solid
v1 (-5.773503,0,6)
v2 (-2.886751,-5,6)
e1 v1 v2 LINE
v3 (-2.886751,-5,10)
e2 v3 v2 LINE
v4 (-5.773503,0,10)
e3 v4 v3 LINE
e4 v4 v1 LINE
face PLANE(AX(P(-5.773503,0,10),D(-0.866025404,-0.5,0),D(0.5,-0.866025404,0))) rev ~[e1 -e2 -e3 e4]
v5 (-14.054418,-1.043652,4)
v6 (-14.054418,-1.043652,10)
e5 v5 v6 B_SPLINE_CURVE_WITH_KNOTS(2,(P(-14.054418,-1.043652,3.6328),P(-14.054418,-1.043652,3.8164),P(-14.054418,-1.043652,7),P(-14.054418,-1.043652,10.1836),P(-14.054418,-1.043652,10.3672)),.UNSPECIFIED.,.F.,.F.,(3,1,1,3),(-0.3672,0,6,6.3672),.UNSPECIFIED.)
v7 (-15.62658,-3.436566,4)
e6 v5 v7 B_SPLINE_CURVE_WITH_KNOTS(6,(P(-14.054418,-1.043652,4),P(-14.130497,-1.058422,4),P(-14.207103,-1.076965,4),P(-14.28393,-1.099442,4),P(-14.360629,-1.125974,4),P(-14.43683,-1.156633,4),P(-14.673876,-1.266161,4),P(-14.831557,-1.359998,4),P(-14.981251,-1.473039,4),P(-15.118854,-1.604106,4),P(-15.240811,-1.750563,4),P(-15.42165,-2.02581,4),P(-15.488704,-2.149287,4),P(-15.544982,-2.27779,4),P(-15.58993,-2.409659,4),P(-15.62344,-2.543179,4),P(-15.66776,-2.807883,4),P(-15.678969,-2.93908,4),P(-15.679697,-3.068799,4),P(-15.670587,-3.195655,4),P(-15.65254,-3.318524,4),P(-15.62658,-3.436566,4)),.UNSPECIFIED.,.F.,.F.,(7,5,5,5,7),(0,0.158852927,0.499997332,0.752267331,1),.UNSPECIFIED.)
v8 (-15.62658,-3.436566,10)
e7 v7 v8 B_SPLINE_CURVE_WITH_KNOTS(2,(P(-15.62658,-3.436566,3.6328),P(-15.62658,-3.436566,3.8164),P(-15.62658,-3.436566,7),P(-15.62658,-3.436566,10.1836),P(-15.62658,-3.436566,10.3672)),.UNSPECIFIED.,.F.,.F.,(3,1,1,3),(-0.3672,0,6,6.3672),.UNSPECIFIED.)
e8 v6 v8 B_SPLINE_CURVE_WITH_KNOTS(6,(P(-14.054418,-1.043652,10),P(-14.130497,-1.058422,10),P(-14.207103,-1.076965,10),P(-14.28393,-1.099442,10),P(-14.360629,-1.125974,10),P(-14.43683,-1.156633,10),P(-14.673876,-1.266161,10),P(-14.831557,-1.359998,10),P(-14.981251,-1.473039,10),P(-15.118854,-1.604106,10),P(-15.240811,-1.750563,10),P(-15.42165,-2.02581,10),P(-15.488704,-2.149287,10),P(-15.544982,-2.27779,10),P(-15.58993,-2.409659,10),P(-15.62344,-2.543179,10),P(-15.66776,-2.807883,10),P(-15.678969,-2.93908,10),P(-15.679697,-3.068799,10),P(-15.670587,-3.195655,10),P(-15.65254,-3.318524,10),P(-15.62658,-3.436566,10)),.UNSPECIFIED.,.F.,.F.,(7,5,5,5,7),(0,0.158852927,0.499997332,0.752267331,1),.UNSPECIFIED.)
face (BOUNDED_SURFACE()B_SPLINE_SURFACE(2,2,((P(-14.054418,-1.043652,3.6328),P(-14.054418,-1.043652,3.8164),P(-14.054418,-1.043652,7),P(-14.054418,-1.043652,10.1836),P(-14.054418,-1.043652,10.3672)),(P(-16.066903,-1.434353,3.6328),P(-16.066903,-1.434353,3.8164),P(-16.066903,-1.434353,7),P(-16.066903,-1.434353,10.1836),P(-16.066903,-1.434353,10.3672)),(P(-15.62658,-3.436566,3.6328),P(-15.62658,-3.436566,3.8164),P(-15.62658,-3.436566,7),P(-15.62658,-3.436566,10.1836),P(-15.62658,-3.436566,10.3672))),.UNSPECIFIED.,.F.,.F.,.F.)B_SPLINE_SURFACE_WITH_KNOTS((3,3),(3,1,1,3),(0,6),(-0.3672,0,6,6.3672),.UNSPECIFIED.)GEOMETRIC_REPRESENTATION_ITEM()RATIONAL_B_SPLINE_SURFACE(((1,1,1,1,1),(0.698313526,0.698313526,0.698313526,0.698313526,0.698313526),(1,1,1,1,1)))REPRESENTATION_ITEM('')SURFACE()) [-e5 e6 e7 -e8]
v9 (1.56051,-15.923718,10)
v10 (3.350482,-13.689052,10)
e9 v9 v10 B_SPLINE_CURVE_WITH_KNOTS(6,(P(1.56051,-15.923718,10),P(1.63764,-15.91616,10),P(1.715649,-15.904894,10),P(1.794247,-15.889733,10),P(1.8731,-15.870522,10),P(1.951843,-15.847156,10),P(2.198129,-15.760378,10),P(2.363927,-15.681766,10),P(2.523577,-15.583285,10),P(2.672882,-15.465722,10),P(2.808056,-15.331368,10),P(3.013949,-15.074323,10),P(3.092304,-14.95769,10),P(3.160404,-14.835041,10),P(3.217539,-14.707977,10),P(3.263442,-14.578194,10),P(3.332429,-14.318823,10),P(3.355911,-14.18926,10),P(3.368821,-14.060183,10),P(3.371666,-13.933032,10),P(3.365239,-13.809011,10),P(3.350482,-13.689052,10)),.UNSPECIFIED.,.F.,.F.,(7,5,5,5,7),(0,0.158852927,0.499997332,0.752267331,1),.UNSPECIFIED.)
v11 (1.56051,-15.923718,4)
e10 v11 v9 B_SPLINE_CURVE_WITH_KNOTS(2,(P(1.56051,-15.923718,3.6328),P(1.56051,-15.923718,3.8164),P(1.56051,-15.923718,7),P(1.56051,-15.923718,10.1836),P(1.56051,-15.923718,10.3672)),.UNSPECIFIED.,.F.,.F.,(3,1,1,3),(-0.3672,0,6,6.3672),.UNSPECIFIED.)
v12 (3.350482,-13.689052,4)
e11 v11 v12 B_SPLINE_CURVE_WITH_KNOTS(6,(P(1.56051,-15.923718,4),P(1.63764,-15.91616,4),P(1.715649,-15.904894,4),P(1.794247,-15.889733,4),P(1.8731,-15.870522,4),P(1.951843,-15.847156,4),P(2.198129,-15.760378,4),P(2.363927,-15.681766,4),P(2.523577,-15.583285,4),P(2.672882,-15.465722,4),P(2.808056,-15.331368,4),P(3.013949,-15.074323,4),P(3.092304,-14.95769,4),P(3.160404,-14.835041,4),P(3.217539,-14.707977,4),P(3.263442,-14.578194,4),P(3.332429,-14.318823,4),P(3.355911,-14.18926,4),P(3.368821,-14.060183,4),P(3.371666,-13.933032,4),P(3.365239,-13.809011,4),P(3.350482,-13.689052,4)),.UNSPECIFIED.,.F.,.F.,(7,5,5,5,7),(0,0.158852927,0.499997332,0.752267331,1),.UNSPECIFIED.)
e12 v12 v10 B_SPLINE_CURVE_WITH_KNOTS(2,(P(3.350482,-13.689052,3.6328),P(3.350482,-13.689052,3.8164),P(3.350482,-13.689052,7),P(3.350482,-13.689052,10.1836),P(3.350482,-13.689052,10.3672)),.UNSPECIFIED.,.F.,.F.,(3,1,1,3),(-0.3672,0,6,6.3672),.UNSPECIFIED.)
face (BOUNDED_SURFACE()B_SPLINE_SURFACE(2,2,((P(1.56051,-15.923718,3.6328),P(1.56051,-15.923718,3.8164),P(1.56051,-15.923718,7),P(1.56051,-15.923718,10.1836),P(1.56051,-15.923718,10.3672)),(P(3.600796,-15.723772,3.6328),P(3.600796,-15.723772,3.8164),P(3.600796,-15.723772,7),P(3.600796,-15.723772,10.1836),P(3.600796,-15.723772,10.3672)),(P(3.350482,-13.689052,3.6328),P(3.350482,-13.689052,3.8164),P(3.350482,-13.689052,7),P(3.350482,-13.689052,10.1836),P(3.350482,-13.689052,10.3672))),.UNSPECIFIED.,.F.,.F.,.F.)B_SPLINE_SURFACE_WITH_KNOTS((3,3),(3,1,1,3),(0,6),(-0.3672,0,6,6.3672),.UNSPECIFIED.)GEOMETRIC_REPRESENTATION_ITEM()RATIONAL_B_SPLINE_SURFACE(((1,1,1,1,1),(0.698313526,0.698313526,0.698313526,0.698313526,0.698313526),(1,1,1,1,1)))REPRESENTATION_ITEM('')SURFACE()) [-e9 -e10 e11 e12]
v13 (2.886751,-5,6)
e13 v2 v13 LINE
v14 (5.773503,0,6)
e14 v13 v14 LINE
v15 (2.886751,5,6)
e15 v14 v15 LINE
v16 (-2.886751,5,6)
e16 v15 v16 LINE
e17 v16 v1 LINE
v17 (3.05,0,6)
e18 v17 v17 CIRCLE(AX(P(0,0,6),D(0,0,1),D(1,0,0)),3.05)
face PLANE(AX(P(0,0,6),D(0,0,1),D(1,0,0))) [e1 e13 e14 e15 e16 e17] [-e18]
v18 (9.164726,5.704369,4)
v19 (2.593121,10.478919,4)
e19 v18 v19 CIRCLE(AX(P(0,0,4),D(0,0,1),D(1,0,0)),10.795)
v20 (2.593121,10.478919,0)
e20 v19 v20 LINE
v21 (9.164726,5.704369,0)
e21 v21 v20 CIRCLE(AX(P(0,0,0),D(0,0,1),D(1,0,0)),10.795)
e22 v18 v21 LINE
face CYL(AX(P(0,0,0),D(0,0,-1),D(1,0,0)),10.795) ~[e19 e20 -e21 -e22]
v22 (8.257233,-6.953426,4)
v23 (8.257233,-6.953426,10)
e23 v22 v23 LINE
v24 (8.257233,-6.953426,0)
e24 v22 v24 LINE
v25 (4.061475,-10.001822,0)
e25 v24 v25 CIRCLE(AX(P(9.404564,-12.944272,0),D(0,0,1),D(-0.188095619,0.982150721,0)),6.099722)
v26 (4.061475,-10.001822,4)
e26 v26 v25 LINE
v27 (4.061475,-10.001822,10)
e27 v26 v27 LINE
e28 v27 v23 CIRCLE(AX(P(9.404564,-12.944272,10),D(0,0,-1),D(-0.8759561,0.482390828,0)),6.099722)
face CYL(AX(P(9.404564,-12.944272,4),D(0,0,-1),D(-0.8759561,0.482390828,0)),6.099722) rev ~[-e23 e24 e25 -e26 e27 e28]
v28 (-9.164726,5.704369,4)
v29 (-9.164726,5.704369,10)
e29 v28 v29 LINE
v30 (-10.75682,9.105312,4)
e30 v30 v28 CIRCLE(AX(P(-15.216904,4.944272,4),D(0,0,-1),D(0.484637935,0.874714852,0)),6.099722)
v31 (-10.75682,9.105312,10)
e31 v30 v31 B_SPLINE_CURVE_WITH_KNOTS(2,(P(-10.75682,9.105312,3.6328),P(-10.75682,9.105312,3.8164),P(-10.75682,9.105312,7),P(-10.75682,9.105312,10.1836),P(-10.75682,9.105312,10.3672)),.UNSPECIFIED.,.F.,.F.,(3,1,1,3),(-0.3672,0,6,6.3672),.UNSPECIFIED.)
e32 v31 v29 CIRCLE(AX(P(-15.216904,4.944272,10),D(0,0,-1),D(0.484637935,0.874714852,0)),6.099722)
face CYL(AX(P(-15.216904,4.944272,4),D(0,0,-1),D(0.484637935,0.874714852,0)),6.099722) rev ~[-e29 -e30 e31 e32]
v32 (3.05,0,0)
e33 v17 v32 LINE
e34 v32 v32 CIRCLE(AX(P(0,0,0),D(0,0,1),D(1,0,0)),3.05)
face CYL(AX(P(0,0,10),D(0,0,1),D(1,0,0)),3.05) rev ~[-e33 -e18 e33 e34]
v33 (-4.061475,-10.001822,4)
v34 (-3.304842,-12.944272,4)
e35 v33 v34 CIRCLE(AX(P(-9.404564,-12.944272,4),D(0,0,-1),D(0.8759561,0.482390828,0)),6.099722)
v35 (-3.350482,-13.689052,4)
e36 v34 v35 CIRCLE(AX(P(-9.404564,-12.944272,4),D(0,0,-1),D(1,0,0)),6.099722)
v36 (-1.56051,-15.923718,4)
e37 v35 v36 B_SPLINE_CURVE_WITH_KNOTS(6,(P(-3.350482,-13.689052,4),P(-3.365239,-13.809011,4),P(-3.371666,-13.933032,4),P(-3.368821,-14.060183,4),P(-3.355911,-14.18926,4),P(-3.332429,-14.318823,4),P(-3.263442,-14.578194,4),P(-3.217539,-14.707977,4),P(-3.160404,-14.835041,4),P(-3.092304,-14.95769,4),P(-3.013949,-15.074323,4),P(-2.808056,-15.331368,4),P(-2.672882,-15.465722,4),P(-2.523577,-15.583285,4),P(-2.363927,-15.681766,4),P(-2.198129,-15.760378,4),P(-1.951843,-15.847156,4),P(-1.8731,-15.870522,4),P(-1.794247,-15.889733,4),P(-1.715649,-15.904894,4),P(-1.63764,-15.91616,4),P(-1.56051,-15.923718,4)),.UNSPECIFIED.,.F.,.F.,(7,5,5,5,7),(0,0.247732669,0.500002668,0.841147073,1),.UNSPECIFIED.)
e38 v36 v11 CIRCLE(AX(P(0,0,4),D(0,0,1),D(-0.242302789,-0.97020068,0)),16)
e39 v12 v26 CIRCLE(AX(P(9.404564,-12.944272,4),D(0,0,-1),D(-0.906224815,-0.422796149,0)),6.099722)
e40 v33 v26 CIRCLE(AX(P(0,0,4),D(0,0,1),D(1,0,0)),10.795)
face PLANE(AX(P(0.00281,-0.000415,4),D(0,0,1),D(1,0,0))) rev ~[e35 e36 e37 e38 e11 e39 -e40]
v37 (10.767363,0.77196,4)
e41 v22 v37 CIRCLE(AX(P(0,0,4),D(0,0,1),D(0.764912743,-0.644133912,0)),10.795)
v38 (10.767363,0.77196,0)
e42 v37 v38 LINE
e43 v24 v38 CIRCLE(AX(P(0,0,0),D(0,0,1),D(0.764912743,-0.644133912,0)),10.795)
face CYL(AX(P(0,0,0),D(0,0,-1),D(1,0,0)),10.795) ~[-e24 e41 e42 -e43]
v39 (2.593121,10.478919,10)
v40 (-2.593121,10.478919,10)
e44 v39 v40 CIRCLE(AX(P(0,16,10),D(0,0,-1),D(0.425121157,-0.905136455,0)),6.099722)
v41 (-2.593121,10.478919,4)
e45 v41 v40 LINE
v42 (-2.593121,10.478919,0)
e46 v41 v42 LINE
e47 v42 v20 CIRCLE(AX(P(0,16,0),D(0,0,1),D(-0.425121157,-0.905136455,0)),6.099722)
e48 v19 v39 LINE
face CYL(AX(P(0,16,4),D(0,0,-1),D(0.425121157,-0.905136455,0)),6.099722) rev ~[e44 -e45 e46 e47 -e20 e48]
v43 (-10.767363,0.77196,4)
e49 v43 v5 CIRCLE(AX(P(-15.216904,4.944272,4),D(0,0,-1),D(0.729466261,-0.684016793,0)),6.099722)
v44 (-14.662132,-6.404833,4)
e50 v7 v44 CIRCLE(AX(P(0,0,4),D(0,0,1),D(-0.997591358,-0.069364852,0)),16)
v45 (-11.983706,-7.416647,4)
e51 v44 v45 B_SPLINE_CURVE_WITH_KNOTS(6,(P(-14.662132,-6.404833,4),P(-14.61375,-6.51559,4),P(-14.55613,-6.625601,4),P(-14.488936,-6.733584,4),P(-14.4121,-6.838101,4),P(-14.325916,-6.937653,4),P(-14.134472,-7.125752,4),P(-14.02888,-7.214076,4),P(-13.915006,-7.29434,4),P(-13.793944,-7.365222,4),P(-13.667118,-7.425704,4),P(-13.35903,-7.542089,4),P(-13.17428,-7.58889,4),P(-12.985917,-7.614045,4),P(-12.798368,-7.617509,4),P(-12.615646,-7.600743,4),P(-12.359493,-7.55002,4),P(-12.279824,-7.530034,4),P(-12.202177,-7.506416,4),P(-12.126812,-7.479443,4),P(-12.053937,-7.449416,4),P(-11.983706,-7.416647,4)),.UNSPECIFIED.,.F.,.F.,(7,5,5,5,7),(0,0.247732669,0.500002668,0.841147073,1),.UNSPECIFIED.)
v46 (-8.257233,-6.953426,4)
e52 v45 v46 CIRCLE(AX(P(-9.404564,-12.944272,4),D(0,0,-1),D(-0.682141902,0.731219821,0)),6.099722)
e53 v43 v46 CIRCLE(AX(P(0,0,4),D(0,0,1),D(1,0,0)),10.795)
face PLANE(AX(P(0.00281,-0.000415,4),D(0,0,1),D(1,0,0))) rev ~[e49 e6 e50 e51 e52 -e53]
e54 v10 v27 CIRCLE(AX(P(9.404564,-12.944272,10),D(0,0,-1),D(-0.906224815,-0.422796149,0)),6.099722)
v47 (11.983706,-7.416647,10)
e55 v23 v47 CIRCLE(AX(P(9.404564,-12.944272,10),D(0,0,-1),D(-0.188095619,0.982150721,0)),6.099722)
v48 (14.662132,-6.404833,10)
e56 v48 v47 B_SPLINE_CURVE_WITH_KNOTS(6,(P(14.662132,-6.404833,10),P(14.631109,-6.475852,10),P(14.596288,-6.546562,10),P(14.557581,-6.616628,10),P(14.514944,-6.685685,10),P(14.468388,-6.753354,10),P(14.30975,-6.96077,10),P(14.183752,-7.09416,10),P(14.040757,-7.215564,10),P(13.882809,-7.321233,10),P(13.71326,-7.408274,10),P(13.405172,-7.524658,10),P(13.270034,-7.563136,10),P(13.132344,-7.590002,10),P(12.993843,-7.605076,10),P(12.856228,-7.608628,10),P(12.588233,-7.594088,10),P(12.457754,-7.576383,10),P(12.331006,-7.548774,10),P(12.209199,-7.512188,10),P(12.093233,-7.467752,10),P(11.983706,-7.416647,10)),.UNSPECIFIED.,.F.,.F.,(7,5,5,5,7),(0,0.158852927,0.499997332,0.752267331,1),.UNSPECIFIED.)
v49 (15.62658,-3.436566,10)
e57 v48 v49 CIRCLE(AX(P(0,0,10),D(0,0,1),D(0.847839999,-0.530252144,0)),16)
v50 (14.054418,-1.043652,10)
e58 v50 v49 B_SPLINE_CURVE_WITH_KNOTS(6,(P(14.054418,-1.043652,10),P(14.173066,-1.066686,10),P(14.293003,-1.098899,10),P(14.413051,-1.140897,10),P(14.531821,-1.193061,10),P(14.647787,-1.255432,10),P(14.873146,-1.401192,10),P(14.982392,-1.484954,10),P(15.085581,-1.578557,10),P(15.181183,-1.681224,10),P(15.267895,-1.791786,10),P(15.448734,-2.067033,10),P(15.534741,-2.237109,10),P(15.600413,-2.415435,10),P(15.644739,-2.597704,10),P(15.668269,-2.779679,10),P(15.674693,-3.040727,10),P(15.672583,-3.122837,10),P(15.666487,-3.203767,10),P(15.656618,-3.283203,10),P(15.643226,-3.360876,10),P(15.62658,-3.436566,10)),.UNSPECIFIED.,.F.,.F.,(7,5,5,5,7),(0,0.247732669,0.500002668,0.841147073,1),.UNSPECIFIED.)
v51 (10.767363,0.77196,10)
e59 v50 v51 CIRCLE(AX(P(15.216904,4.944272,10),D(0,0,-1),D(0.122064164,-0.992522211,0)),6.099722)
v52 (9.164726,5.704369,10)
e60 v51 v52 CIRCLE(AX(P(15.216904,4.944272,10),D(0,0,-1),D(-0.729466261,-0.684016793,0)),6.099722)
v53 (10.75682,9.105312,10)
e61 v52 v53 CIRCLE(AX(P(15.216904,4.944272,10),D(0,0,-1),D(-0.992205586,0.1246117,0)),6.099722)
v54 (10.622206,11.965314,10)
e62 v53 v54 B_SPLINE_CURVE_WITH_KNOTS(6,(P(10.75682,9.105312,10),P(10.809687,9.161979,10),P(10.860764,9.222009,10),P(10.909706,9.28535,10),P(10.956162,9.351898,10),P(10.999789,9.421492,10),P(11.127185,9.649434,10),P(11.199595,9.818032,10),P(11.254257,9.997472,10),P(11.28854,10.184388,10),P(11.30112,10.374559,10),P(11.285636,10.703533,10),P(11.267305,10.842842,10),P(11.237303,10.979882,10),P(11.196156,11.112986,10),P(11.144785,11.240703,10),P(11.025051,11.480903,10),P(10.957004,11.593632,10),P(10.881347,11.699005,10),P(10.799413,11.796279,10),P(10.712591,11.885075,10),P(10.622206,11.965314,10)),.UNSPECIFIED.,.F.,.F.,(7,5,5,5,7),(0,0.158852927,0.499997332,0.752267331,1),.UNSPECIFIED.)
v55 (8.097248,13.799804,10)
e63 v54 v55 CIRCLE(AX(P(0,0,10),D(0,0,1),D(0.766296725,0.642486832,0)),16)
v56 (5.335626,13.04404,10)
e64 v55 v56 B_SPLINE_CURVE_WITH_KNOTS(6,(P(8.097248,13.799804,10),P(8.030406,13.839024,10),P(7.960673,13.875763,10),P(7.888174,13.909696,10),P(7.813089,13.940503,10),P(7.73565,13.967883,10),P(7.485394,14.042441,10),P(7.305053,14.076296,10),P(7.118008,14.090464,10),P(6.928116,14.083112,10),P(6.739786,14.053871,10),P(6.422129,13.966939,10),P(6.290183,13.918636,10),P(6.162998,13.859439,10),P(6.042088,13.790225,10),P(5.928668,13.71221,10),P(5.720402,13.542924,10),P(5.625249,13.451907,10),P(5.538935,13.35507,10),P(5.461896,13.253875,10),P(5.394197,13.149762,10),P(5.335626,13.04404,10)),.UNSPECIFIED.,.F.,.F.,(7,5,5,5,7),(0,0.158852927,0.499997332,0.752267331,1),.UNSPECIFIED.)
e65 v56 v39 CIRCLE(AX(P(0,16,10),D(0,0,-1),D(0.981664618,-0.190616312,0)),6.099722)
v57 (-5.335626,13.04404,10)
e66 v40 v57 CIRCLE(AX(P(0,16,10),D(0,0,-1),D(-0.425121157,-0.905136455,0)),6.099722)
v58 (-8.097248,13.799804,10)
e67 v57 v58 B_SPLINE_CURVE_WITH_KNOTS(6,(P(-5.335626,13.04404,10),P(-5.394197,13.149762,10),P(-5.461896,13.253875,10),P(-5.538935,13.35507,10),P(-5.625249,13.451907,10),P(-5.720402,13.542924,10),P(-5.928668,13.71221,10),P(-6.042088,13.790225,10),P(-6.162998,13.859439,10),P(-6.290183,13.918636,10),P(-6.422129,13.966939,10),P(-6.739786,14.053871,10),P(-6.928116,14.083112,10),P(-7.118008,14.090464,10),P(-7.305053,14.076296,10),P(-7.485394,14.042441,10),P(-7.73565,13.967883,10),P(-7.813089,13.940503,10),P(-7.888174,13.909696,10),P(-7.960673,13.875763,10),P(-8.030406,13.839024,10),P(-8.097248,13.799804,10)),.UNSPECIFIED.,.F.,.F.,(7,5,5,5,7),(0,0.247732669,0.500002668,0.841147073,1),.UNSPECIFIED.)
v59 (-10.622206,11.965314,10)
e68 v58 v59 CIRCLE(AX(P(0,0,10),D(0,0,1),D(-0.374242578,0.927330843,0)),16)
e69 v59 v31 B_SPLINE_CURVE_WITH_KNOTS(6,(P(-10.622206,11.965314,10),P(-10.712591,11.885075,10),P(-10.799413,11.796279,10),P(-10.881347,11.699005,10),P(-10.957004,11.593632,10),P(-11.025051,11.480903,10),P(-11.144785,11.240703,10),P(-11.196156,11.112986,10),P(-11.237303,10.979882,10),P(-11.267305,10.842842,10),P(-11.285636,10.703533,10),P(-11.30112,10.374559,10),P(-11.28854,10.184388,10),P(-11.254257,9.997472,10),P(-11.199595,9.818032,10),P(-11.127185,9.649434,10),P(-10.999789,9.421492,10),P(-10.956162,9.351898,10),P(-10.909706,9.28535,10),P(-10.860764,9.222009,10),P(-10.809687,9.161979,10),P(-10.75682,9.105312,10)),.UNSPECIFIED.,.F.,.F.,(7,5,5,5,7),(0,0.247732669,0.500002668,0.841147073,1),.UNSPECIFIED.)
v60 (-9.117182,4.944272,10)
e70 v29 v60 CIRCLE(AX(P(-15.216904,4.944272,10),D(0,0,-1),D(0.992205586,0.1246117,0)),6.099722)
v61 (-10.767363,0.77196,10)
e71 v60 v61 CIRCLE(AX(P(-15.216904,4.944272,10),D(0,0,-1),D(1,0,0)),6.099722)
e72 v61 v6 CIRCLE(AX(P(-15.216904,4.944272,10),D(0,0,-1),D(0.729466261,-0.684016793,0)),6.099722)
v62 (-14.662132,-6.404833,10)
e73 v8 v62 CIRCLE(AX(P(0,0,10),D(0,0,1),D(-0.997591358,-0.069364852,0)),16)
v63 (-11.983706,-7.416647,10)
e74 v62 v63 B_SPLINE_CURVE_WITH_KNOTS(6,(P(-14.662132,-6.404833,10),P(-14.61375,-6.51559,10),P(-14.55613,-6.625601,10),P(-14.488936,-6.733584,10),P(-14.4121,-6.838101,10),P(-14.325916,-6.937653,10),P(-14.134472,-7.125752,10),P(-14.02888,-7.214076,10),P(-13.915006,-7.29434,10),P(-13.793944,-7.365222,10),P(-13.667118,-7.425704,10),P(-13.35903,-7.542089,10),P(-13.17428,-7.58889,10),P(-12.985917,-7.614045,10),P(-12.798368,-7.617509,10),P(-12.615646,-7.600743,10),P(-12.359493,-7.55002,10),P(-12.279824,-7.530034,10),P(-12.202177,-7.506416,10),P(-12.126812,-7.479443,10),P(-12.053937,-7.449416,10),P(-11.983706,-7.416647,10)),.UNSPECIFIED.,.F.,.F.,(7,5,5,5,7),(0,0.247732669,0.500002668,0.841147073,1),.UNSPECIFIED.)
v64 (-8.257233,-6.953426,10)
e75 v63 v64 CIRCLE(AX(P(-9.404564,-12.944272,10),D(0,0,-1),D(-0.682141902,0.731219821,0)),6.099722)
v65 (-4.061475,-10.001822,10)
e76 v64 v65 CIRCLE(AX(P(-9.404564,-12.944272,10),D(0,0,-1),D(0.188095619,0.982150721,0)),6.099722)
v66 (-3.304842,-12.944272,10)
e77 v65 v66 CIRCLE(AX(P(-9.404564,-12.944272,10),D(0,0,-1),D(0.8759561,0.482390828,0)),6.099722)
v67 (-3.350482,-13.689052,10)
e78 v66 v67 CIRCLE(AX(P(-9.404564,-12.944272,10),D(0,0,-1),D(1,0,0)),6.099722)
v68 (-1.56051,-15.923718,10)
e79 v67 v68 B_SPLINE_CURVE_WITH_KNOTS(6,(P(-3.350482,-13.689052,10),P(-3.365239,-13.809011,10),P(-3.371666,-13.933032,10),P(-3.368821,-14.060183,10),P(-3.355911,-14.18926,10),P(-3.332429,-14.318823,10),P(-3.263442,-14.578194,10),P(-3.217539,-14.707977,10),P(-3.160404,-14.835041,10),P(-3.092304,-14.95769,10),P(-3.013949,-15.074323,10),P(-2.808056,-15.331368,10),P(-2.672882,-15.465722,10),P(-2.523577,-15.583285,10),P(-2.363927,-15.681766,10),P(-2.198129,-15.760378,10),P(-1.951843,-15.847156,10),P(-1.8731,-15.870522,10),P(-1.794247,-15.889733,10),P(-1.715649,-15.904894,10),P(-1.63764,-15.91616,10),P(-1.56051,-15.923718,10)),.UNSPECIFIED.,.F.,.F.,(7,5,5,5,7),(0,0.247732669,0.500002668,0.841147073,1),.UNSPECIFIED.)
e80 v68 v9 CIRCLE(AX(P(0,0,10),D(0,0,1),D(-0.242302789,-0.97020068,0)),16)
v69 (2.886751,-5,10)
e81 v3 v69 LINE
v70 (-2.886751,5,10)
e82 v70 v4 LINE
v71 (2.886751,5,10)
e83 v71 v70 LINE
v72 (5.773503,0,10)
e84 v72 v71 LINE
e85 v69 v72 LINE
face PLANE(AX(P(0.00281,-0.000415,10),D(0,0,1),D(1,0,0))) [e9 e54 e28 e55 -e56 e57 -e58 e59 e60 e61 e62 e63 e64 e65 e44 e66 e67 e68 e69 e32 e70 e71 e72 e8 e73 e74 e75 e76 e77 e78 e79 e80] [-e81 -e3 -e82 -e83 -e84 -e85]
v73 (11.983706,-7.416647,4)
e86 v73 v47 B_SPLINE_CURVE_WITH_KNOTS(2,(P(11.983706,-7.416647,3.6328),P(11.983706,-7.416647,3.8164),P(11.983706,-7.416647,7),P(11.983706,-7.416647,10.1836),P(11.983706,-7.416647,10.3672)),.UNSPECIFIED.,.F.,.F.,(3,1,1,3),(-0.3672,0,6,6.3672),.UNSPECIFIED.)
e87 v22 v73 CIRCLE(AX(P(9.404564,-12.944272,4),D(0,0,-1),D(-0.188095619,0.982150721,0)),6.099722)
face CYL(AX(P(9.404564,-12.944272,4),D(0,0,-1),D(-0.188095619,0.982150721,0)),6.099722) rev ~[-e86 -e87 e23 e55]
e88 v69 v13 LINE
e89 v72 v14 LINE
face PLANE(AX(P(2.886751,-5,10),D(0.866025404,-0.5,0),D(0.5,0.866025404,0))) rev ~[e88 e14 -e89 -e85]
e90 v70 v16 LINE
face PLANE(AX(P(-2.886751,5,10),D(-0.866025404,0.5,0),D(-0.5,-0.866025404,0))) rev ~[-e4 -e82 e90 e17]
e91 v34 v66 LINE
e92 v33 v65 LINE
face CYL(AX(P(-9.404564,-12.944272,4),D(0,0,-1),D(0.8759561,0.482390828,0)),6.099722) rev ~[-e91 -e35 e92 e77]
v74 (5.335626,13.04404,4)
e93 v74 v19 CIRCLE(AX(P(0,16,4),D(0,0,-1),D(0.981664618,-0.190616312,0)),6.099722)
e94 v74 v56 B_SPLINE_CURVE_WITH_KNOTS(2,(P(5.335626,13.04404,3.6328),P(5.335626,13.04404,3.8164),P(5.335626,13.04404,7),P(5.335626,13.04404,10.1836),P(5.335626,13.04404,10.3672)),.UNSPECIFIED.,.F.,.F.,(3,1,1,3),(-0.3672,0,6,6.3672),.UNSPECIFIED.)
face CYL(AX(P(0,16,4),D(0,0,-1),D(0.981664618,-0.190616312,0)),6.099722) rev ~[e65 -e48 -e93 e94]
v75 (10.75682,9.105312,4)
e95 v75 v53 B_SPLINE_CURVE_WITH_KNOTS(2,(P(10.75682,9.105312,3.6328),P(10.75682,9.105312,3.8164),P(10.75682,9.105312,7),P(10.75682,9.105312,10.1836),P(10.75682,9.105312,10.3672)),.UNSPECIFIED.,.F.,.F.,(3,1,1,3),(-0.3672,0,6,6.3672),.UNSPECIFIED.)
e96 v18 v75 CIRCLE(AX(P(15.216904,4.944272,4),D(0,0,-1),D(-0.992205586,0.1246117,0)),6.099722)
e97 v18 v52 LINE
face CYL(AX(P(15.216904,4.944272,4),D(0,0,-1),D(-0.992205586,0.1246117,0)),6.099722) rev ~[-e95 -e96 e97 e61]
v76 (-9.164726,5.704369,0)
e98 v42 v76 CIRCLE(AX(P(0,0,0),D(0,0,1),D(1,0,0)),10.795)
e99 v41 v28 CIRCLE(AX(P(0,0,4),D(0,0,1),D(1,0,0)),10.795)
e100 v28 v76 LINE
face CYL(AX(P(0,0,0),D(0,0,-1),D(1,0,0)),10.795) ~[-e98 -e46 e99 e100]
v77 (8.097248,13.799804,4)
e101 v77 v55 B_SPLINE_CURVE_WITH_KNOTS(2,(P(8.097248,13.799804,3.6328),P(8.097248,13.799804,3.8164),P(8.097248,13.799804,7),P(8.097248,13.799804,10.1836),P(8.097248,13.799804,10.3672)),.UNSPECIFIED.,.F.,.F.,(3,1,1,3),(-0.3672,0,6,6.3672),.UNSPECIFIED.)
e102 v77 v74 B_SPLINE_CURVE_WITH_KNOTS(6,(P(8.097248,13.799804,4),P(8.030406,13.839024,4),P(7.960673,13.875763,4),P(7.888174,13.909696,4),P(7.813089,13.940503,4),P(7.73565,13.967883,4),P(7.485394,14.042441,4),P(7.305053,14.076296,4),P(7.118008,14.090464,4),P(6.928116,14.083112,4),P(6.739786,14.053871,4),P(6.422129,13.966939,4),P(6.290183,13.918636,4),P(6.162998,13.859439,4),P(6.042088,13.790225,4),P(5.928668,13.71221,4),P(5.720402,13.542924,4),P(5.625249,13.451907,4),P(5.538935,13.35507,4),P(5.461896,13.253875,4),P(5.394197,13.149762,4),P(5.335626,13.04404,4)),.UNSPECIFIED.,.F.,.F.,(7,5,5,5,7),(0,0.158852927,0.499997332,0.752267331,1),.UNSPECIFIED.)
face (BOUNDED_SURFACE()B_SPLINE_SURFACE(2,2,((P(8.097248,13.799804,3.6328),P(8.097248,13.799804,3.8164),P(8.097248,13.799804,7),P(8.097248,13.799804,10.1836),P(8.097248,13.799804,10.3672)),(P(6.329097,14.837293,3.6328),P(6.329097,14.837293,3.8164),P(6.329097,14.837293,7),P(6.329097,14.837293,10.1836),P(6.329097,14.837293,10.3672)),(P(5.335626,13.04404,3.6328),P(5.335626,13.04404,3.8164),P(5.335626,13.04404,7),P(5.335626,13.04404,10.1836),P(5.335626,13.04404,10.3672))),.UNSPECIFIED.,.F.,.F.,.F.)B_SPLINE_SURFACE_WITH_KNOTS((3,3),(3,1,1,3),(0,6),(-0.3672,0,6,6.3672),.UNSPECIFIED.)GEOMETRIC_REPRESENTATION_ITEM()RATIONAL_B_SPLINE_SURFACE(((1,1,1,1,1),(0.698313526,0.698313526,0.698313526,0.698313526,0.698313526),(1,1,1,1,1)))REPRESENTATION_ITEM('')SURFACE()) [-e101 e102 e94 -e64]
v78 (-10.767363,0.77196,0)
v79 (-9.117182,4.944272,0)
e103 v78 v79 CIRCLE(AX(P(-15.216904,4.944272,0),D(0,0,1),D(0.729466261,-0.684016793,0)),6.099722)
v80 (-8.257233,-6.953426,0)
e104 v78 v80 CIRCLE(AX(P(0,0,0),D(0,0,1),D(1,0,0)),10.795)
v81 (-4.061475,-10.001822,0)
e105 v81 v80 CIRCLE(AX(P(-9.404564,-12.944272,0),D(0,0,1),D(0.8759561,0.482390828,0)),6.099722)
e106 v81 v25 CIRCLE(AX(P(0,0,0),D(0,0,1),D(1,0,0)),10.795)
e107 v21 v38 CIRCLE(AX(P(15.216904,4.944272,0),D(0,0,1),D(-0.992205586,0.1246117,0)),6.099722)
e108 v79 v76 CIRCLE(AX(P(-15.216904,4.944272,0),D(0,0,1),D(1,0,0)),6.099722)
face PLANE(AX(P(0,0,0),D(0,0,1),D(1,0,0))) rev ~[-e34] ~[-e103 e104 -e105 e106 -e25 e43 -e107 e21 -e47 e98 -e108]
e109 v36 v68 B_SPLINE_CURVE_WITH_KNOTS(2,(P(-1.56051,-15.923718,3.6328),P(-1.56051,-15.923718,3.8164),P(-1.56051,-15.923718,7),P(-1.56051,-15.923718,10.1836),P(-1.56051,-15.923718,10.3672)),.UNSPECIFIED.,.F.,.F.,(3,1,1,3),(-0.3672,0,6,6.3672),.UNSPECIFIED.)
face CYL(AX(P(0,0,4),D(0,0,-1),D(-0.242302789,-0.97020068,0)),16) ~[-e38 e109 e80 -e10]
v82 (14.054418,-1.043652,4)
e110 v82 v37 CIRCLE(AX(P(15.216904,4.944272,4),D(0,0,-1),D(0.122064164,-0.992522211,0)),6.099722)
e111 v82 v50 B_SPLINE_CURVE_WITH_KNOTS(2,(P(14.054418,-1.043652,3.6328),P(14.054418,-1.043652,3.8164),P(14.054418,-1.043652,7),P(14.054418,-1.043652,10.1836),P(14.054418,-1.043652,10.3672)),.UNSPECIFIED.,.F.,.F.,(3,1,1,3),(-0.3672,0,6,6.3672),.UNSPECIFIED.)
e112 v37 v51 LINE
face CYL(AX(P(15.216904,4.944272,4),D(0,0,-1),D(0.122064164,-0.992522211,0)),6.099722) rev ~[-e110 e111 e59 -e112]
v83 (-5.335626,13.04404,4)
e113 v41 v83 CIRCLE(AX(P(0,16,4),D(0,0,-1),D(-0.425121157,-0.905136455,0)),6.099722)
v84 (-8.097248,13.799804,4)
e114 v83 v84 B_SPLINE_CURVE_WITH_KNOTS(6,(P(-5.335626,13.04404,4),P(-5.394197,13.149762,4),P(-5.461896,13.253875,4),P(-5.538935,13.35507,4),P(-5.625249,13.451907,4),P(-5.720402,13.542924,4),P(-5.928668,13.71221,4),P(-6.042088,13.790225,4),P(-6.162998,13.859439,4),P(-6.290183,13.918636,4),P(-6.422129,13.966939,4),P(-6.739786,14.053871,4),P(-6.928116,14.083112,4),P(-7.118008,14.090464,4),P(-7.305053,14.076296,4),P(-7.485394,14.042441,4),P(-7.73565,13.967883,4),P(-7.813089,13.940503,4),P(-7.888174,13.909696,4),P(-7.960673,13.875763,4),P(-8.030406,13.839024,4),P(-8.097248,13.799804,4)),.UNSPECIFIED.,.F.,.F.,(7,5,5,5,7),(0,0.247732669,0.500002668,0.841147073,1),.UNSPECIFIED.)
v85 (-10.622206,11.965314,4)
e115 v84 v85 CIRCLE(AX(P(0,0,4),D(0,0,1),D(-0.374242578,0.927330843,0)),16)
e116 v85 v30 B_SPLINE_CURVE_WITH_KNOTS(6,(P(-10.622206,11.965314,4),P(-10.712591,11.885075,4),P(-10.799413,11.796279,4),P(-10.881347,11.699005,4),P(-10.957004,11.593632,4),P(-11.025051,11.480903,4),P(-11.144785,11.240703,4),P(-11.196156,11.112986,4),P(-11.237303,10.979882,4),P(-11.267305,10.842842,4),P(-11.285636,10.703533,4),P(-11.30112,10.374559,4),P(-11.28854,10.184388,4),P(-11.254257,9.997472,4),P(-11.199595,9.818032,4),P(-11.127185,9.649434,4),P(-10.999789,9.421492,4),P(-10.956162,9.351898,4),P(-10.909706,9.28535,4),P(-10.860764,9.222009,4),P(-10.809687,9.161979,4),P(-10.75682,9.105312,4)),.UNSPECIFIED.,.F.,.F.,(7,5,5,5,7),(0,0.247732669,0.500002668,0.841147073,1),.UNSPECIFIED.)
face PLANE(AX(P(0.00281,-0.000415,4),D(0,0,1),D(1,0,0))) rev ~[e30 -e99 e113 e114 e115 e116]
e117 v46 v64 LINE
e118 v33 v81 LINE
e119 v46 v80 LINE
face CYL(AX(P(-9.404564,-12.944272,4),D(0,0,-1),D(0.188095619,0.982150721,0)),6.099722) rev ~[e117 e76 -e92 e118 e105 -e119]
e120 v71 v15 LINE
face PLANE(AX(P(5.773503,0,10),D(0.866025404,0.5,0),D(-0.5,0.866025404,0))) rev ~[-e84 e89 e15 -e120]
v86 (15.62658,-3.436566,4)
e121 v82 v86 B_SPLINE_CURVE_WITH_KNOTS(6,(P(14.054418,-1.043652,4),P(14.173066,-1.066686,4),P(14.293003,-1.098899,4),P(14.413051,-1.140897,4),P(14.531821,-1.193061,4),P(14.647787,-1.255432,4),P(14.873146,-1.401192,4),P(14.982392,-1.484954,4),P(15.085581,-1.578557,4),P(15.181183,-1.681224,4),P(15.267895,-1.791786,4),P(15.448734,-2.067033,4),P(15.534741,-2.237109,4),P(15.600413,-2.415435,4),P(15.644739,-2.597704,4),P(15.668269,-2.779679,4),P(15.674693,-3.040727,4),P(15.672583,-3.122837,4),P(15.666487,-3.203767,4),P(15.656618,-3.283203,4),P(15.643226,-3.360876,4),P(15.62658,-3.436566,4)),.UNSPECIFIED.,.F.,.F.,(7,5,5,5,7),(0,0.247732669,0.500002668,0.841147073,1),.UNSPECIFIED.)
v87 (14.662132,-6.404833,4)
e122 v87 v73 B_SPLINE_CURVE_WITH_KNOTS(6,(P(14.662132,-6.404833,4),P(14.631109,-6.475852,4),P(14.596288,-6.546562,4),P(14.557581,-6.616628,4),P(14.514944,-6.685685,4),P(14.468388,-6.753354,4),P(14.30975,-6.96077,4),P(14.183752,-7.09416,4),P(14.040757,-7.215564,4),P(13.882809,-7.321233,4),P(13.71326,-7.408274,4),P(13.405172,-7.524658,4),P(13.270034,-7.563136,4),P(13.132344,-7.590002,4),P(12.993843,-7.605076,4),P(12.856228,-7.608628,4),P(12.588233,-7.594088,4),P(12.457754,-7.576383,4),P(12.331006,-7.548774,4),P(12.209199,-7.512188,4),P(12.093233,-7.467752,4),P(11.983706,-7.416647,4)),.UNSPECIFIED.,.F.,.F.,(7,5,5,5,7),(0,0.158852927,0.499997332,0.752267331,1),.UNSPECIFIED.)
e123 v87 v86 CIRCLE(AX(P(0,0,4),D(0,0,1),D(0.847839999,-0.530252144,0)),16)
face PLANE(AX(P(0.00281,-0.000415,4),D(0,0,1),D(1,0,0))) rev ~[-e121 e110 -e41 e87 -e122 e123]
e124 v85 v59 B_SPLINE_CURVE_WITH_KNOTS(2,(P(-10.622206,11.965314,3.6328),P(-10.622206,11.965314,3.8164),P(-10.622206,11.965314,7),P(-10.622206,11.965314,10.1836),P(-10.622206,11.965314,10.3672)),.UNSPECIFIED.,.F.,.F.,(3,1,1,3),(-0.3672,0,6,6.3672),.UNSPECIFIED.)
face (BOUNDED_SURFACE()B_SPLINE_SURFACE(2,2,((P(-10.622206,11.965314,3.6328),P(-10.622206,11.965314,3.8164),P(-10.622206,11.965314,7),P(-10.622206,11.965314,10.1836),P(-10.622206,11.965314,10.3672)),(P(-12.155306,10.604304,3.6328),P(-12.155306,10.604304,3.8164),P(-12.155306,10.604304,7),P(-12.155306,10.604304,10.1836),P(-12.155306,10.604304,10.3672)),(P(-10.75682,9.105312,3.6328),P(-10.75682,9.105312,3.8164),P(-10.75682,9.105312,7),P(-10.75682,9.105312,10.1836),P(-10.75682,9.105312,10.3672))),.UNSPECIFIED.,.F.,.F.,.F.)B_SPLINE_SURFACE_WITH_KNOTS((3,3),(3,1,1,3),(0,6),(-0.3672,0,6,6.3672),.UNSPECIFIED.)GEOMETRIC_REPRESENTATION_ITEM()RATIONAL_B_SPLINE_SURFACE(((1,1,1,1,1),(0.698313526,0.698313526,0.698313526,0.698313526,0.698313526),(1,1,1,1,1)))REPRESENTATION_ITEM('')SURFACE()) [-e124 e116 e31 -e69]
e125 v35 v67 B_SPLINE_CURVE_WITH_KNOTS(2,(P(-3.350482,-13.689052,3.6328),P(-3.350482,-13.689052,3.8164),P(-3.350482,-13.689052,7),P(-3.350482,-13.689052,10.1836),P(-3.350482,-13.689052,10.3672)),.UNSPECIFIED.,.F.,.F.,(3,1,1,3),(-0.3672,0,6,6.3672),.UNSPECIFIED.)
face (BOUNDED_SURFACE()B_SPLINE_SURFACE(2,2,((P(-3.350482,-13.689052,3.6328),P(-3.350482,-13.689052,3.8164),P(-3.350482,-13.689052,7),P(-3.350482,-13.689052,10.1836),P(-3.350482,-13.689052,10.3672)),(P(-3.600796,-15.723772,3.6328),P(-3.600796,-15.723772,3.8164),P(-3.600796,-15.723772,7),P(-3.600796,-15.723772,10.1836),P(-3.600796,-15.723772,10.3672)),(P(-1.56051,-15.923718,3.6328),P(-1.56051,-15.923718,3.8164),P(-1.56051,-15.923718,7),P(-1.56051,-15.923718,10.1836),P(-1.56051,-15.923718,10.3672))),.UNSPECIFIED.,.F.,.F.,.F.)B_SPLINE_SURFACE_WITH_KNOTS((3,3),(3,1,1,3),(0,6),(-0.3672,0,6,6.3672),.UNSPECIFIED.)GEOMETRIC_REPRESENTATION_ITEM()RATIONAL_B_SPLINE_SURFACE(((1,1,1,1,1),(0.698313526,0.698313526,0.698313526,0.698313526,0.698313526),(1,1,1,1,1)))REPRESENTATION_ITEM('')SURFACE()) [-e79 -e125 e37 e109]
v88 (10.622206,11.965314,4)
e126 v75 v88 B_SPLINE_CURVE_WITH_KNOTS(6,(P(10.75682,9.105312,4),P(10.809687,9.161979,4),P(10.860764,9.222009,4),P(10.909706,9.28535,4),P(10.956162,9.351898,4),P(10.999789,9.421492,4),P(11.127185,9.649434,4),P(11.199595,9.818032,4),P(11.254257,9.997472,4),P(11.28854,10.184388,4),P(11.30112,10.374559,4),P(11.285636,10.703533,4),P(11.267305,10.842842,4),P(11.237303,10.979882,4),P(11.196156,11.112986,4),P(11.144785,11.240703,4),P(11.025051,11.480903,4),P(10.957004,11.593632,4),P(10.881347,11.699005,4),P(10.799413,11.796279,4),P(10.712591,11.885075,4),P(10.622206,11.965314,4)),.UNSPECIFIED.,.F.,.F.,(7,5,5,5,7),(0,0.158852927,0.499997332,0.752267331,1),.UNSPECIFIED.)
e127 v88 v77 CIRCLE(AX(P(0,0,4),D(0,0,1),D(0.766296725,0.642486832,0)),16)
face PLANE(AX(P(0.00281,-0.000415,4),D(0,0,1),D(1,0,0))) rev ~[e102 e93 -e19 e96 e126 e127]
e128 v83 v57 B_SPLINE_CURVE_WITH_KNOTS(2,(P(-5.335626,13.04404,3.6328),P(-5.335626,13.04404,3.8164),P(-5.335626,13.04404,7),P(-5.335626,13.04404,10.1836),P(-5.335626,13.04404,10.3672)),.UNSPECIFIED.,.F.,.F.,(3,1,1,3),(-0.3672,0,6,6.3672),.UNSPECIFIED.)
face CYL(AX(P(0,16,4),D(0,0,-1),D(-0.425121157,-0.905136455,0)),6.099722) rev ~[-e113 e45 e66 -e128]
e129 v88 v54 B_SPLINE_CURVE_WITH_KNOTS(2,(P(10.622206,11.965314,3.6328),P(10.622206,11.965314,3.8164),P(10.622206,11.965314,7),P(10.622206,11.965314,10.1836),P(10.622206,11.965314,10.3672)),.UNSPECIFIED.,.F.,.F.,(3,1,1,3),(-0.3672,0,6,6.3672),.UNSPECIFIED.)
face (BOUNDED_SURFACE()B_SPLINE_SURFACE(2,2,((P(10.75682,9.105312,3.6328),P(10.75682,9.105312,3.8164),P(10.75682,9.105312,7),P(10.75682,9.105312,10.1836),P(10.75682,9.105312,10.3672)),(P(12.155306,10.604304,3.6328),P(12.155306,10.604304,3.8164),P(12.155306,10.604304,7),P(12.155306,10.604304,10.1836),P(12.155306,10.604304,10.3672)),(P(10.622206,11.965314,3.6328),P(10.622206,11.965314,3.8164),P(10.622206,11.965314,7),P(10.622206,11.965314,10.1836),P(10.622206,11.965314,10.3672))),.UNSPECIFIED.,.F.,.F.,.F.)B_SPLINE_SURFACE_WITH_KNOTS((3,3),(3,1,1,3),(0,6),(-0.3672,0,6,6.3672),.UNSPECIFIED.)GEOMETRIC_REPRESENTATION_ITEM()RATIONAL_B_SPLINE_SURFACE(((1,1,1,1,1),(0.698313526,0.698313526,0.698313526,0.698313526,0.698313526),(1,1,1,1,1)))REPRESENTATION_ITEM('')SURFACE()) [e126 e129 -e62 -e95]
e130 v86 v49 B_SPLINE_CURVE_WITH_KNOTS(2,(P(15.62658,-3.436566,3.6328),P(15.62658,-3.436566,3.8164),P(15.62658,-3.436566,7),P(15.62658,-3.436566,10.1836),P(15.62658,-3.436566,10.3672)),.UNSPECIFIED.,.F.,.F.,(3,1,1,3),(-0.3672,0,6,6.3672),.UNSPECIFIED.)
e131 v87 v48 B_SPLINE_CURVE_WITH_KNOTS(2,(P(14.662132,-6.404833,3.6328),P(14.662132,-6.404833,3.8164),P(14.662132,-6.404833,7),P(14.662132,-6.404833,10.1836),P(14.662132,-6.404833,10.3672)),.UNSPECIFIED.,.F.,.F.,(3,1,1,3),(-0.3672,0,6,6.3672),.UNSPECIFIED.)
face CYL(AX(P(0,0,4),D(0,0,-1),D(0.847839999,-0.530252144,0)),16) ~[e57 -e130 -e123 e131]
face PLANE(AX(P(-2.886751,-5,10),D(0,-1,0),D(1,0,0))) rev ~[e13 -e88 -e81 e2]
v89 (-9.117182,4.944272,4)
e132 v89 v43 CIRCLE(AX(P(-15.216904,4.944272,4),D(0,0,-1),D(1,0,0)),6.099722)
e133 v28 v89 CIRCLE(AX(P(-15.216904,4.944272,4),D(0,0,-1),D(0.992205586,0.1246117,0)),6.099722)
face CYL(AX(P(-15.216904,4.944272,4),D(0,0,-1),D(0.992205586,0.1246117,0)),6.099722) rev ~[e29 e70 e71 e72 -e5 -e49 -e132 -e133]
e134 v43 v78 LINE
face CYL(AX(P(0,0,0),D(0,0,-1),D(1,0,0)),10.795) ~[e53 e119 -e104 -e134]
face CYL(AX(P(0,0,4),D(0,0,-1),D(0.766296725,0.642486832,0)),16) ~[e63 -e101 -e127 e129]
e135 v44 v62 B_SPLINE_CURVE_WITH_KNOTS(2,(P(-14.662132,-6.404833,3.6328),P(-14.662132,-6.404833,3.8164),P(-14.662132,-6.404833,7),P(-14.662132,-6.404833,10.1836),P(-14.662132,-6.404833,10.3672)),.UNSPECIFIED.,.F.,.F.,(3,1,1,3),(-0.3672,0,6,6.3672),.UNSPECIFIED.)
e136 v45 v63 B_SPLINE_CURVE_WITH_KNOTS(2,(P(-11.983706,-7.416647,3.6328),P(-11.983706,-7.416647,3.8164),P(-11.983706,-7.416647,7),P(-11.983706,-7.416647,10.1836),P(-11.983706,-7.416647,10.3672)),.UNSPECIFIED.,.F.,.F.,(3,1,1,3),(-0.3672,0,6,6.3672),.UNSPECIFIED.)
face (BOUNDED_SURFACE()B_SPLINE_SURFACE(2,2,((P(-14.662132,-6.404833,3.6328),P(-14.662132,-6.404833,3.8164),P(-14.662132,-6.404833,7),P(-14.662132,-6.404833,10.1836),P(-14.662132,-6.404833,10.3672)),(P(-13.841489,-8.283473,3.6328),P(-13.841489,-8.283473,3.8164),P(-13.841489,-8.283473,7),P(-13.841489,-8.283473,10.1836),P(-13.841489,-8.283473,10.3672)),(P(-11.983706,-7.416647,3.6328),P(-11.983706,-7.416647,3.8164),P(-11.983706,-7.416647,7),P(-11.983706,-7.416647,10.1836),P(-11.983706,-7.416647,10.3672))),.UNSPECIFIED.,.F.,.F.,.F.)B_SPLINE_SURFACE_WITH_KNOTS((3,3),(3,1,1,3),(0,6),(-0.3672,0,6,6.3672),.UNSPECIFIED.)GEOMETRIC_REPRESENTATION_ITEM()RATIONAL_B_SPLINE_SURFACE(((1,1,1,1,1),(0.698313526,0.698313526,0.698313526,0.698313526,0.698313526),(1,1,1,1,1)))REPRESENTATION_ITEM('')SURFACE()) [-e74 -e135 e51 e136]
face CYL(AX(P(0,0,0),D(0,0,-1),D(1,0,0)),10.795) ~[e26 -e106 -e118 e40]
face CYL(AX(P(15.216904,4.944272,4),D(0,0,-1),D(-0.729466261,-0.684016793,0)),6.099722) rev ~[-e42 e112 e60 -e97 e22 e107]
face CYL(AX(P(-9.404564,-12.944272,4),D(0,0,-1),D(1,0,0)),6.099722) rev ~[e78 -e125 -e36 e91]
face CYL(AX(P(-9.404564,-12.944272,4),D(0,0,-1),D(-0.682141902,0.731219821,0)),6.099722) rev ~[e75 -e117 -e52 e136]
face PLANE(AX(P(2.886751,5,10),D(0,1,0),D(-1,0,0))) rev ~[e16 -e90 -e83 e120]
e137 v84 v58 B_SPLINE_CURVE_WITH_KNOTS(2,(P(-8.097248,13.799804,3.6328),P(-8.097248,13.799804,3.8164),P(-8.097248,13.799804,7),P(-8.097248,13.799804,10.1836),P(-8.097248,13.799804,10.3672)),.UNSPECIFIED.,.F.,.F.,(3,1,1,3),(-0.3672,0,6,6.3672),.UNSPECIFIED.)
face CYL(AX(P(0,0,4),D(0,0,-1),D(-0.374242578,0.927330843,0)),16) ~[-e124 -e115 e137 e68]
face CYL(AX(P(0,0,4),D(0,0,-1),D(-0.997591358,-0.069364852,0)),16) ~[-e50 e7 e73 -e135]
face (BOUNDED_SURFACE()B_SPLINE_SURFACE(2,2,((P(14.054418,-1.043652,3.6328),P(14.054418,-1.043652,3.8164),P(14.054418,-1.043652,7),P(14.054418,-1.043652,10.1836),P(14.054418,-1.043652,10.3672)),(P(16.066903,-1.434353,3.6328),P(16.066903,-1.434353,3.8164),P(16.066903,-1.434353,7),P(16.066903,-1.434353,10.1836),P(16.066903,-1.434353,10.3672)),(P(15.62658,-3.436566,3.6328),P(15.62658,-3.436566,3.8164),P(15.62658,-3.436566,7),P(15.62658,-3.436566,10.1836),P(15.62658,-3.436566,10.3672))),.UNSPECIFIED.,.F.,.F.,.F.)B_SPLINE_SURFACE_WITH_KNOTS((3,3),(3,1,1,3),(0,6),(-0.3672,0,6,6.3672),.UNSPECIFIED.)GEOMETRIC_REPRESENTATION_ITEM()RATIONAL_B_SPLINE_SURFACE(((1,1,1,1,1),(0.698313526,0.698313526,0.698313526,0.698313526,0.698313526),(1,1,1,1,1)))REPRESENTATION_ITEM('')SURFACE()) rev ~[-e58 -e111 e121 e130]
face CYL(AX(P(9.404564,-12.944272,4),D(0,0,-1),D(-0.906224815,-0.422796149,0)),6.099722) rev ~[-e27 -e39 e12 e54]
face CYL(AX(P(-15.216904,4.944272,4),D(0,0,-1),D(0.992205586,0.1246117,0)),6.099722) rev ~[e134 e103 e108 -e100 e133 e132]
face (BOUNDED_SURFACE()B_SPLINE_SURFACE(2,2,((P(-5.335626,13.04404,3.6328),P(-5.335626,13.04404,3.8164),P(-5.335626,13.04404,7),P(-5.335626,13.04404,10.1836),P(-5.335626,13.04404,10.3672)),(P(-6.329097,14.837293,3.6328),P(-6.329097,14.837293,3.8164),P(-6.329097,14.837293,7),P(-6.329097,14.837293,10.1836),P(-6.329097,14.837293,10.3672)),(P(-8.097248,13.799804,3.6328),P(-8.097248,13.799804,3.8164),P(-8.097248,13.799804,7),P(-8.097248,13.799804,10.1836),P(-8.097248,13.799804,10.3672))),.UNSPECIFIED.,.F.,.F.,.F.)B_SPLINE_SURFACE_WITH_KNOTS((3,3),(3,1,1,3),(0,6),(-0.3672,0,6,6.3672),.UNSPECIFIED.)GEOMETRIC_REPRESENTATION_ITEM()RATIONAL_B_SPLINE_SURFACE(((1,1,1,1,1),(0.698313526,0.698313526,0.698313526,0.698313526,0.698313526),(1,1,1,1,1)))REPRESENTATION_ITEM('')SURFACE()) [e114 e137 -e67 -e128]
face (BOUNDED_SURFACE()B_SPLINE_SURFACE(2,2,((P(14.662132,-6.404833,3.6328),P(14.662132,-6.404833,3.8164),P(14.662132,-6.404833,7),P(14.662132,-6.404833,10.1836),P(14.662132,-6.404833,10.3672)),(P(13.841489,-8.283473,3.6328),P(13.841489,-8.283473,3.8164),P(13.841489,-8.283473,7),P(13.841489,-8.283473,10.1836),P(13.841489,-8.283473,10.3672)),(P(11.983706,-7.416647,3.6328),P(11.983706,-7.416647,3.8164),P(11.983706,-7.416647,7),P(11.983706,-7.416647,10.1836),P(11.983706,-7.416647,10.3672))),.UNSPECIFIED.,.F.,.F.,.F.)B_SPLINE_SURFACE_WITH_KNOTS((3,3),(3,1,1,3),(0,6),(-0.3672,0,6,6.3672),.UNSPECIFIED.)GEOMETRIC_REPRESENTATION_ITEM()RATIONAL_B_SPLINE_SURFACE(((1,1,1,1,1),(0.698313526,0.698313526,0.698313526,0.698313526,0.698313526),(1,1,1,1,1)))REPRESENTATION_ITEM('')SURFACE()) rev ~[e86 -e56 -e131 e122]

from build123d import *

# Parameters (mm, degrees)
F0_R     = 10.795
F1_DEPTH = 4
F3_DEPTH = 6
F4_R     = 2
F5_R     = 3.05
F6_DEPTH = 25
F8_DEPTH = 4
F9_DEPTH = 25


with BuildPart() as f1:
    # F0 (on Top) → F1 (new body)
    with BuildSketch(Plane.XY):
        Circle(F0_R)
    extrude(amount=F1_DEPTH)

    # F2 (on face) → F3 (join)
    with BuildSketch(Plane.XY.offset(4)):
        with BuildLine():
            ThreePointArc((10.7673628762, 0.7719596449), (9.4157239289, 3.0593541588), (9.164726046, 5.704368633))
            ThreePointArc((9.164726046, 5.704368633), (6.3451417985, 8.7333384543), (2.5931208628, 10.4789192759))
            ThreePointArc((2.5931208628, 10.4789192759), (0, 9.9002780251), (-2.5931208628, 10.4789192759))
            ThreePointArc((-2.5931208628, 10.4789192759), (-6.3451417985, 8.7333384543), (-9.164726046, 5.704368633))
            ThreePointArc((-9.164726046, 5.704368633), (-9.129079829, 5.3250630068), (-9.1171822858, 4.94427191))
            ThreePointArc((-9.1171822858, 4.94427191), (-9.5447100851, 2.7008768479), (-10.7673628762, 0.7719596449))
            ThreePointArc((-10.7673628762, 0.7719596449), (-10.2666550934, -3.3358384543), (-8.2572330568, -6.9534255763))
            ThreePointArc((-8.2572330568, -6.9534255763), (-5.8192374168, -8.0094931714), (-4.0614753639, -10.0018219774))
            ThreePointArc((-4.0614753639, -10.0018219774), (0, -10.795), (4.0614753639, -10.0018219774))
            ThreePointArc((4.0614753639, -10.0018219774), (5.8192374168, -8.0094931714), (8.2572330568, -6.9534255763))
            ThreePointArc((8.2572330568, -6.9534255763), (10.1407311336, -3.7010264895), (10.795, 0))
            ThreePointArc((10.795, 0), (10.7880885065, 0.3862271041), (10.7673628762, 0.7719596449))
        make_face()
        with BuildLine():
            ThreePointArc((9.164726046, 5.704368633), (10.1650587649, 8.3626728896), (12.2607475986, 10.2797893132))
            ThreePointArc((12.2607475986, 10.2797893132), (9.4045640367, 12.94427191), (5.9878812408, 14.8372934947))
            ThreePointArc((5.9878812408, 14.8372934947), (4.8121986381, 12.2517534182), (2.5931208628, 10.4789192759))
            ThreePointArc((2.5931208628, 10.4789192759), (6.3451417985, 8.7333384543), (9.164726046, 5.704368633))
        make_face()
        with BuildLine():
            ThreePointArc((-2.5931208628, 10.4789192759), (-4.8121986381, 12.2517534182), (-5.9878812408, 14.8372934947))
            ThreePointArc((-5.9878812408, 14.8372934947), (-9.4045640367, 12.94427191), (-12.2607475986, 10.2797893132))
            ThreePointArc((-12.2607475986, 10.2797893132), (-10.1650587649, 8.3626728896), (-9.164726046, 5.704368633))
            ThreePointArc((-9.164726046, 5.704368633), (-6.3451417985, 8.7333384543), (-2.5931208628, 10.4789192759))
        make_face()
        with BuildLine():
            ThreePointArc((-10.7673628762, 0.7719596449), (-13.1391610839, -0.7906728554), (-15.961461726, -1.1098376324))
            ThreePointArc((-15.961461726, -1.1098376324), (-15.2169042607, -4.94427191), (-13.5654399842, -8.4840343019))
            ThreePointArc((-13.5654399842, -8.4840343019), (-11.0945504525, -7.0833373356), (-8.2572330568, -6.9534255763))
            ThreePointArc((-8.2572330568, -6.9534255763), (-10.2666550934, -3.3358384543), (-10.7673628762, 0.7719596449))
        make_face()
        with BuildLine():
            ThreePointArc((-3.876844616, -15.5232108735), (0, -16), (3.876844616, -15.5232108735))
            ThreePointArc((3.876844616, -15.5232108735), (3.3082494954, -12.7404161168), (4.0614753639, -10.0018219774))
            ThreePointArc((4.0614753639, -10.0018219774), (0, -10.795), (-4.0614753639, -10.0018219774))
            ThreePointArc((-4.0614753639, -10.0018219774), (-3.4970280206, -11.4251845557), (-3.3048420618, -12.94427191))
            ThreePointArc((-3.3048420618, -12.94427191), (-3.4495594274, -14.2650778287), (-3.876844616, -15.5232108735))
        make_face()
        with BuildLine():
            ThreePointArc((13.5654399842, -8.4840343019), (15.2169042607, -4.94427191), (15.961461726, -1.1098376324))
            ThreePointArc((15.961461726, -1.1098376324), (13.1391610839, -0.7906728554), (10.7673628762, 0.7719596449))
            ThreePointArc((10.7673628762, 0.7719596449), (10.7880885065, 0.3862271041), (10.795, 0))
            ThreePointArc((10.795, 0), (10.1407311336, -3.7010264895), (8.2572330568, -6.9534255763))
            ThreePointArc((8.2572330568, -6.9534255763), (11.0945504525, -7.0833373356), (13.5654399842, -8.4840343019))
        make_face()
    extrude(amount=F3_DEPTH)

    # F4
    f4_edges = [f1.edges().sort_by_distance(p)[0] for p in [
        (-5.987881, 14.837293, 7),
        (-12.260748, 10.279789, 7),
        (-15.961462, -1.109838, 7),
        (-13.56544, -8.484034, 7),
        (-3.876845, -15.523211, 7),
        (3.876845, -15.523211, 7),
        (13.56544, -8.484034, 7),
        (15.961462, -1.109838, 7),
        (12.260748, 10.279789, 7),
        (5.987881, 14.837293, 7),
    ]]
    fillet(f4_edges, radius=F4_R)

    # F5 (on face) → F6 (cut)
    with BuildSketch(Plane.XY.offset(10)):
        Circle(F5_R)
    extrude(amount=-F6_DEPTH, mode=Mode.SUBTRACT)

    # F7 (on face) → F8 (cut)
    with BuildSketch(Plane.XY.offset(10)):
        Polygon((2.8867513459, -5), (5.7735026919, 0), (2.8867513459, 5), (-2.8867513459, 5), (-5.7735026919, 0), (-2.8867513459, -5), align=None)
    extrude(amount=-F8_DEPTH, mode=Mode.SUBTRACT)

    # F2 (on face) → F9 (cut)
    with BuildSketch(Plane.XY.offset(4)):
        with BuildLine():
            ThreePointArc((-9.1171822858, 4.94427191), (-9.129079829, 5.3250630068), (-9.164726046, 5.704368633))
            ThreePointArc((-9.164726046, 5.704368633), (-10.2666550934, 3.3358384543), (-10.7673628762, 0.7719596449))
            ThreePointArc((-10.7673628762, 0.7719596449), (-9.5447100851, 2.7008768479), (-9.1171822858, 4.94427191))
        make_face()
        with BuildLine():
            ThreePointArc((-2.5931208628, 10.4789192759), (0, 9.9002780251), (2.5931208628, 10.4789192759))
            ThreePointArc((2.5931208628, 10.4789192759), (0, 10.795), (-2.5931208628, 10.4789192759))
        make_face()
        with BuildLine():
            ThreePointArc((10.7673628762, 0.7719596449), (10.2666550934, 3.3358384543), (9.164726046, 5.704368633))
            ThreePointArc((9.164726046, 5.704368633), (9.4157239289, 3.0593541588), (10.7673628762, 0.7719596449))
        make_face()
        with BuildLine():
            ThreePointArc((4.0614753639, -10.0018219774), (6.3451417985, -8.7333384543), (8.2572330568, -6.9534255763))
            ThreePointArc((8.2572330568, -6.9534255763), (5.8192374168, -8.0094931714), (4.0614753639, -10.0018219774))
        make_face()
        with BuildLine():
            ThreePointArc((-8.2572330568, -6.9534255763), (-6.3451417985, -8.7333384543), (-4.0614753639, -10.0018219774))
            ThreePointArc((-4.0614753639, -10.0018219774), (-5.8192374168, -8.0094931714), (-8.2572330568, -6.9534255763))
        make_face()
    extrude(amount=-F9_DEPTH, mode=Mode.SUBTRACT)


solid = f1.part
